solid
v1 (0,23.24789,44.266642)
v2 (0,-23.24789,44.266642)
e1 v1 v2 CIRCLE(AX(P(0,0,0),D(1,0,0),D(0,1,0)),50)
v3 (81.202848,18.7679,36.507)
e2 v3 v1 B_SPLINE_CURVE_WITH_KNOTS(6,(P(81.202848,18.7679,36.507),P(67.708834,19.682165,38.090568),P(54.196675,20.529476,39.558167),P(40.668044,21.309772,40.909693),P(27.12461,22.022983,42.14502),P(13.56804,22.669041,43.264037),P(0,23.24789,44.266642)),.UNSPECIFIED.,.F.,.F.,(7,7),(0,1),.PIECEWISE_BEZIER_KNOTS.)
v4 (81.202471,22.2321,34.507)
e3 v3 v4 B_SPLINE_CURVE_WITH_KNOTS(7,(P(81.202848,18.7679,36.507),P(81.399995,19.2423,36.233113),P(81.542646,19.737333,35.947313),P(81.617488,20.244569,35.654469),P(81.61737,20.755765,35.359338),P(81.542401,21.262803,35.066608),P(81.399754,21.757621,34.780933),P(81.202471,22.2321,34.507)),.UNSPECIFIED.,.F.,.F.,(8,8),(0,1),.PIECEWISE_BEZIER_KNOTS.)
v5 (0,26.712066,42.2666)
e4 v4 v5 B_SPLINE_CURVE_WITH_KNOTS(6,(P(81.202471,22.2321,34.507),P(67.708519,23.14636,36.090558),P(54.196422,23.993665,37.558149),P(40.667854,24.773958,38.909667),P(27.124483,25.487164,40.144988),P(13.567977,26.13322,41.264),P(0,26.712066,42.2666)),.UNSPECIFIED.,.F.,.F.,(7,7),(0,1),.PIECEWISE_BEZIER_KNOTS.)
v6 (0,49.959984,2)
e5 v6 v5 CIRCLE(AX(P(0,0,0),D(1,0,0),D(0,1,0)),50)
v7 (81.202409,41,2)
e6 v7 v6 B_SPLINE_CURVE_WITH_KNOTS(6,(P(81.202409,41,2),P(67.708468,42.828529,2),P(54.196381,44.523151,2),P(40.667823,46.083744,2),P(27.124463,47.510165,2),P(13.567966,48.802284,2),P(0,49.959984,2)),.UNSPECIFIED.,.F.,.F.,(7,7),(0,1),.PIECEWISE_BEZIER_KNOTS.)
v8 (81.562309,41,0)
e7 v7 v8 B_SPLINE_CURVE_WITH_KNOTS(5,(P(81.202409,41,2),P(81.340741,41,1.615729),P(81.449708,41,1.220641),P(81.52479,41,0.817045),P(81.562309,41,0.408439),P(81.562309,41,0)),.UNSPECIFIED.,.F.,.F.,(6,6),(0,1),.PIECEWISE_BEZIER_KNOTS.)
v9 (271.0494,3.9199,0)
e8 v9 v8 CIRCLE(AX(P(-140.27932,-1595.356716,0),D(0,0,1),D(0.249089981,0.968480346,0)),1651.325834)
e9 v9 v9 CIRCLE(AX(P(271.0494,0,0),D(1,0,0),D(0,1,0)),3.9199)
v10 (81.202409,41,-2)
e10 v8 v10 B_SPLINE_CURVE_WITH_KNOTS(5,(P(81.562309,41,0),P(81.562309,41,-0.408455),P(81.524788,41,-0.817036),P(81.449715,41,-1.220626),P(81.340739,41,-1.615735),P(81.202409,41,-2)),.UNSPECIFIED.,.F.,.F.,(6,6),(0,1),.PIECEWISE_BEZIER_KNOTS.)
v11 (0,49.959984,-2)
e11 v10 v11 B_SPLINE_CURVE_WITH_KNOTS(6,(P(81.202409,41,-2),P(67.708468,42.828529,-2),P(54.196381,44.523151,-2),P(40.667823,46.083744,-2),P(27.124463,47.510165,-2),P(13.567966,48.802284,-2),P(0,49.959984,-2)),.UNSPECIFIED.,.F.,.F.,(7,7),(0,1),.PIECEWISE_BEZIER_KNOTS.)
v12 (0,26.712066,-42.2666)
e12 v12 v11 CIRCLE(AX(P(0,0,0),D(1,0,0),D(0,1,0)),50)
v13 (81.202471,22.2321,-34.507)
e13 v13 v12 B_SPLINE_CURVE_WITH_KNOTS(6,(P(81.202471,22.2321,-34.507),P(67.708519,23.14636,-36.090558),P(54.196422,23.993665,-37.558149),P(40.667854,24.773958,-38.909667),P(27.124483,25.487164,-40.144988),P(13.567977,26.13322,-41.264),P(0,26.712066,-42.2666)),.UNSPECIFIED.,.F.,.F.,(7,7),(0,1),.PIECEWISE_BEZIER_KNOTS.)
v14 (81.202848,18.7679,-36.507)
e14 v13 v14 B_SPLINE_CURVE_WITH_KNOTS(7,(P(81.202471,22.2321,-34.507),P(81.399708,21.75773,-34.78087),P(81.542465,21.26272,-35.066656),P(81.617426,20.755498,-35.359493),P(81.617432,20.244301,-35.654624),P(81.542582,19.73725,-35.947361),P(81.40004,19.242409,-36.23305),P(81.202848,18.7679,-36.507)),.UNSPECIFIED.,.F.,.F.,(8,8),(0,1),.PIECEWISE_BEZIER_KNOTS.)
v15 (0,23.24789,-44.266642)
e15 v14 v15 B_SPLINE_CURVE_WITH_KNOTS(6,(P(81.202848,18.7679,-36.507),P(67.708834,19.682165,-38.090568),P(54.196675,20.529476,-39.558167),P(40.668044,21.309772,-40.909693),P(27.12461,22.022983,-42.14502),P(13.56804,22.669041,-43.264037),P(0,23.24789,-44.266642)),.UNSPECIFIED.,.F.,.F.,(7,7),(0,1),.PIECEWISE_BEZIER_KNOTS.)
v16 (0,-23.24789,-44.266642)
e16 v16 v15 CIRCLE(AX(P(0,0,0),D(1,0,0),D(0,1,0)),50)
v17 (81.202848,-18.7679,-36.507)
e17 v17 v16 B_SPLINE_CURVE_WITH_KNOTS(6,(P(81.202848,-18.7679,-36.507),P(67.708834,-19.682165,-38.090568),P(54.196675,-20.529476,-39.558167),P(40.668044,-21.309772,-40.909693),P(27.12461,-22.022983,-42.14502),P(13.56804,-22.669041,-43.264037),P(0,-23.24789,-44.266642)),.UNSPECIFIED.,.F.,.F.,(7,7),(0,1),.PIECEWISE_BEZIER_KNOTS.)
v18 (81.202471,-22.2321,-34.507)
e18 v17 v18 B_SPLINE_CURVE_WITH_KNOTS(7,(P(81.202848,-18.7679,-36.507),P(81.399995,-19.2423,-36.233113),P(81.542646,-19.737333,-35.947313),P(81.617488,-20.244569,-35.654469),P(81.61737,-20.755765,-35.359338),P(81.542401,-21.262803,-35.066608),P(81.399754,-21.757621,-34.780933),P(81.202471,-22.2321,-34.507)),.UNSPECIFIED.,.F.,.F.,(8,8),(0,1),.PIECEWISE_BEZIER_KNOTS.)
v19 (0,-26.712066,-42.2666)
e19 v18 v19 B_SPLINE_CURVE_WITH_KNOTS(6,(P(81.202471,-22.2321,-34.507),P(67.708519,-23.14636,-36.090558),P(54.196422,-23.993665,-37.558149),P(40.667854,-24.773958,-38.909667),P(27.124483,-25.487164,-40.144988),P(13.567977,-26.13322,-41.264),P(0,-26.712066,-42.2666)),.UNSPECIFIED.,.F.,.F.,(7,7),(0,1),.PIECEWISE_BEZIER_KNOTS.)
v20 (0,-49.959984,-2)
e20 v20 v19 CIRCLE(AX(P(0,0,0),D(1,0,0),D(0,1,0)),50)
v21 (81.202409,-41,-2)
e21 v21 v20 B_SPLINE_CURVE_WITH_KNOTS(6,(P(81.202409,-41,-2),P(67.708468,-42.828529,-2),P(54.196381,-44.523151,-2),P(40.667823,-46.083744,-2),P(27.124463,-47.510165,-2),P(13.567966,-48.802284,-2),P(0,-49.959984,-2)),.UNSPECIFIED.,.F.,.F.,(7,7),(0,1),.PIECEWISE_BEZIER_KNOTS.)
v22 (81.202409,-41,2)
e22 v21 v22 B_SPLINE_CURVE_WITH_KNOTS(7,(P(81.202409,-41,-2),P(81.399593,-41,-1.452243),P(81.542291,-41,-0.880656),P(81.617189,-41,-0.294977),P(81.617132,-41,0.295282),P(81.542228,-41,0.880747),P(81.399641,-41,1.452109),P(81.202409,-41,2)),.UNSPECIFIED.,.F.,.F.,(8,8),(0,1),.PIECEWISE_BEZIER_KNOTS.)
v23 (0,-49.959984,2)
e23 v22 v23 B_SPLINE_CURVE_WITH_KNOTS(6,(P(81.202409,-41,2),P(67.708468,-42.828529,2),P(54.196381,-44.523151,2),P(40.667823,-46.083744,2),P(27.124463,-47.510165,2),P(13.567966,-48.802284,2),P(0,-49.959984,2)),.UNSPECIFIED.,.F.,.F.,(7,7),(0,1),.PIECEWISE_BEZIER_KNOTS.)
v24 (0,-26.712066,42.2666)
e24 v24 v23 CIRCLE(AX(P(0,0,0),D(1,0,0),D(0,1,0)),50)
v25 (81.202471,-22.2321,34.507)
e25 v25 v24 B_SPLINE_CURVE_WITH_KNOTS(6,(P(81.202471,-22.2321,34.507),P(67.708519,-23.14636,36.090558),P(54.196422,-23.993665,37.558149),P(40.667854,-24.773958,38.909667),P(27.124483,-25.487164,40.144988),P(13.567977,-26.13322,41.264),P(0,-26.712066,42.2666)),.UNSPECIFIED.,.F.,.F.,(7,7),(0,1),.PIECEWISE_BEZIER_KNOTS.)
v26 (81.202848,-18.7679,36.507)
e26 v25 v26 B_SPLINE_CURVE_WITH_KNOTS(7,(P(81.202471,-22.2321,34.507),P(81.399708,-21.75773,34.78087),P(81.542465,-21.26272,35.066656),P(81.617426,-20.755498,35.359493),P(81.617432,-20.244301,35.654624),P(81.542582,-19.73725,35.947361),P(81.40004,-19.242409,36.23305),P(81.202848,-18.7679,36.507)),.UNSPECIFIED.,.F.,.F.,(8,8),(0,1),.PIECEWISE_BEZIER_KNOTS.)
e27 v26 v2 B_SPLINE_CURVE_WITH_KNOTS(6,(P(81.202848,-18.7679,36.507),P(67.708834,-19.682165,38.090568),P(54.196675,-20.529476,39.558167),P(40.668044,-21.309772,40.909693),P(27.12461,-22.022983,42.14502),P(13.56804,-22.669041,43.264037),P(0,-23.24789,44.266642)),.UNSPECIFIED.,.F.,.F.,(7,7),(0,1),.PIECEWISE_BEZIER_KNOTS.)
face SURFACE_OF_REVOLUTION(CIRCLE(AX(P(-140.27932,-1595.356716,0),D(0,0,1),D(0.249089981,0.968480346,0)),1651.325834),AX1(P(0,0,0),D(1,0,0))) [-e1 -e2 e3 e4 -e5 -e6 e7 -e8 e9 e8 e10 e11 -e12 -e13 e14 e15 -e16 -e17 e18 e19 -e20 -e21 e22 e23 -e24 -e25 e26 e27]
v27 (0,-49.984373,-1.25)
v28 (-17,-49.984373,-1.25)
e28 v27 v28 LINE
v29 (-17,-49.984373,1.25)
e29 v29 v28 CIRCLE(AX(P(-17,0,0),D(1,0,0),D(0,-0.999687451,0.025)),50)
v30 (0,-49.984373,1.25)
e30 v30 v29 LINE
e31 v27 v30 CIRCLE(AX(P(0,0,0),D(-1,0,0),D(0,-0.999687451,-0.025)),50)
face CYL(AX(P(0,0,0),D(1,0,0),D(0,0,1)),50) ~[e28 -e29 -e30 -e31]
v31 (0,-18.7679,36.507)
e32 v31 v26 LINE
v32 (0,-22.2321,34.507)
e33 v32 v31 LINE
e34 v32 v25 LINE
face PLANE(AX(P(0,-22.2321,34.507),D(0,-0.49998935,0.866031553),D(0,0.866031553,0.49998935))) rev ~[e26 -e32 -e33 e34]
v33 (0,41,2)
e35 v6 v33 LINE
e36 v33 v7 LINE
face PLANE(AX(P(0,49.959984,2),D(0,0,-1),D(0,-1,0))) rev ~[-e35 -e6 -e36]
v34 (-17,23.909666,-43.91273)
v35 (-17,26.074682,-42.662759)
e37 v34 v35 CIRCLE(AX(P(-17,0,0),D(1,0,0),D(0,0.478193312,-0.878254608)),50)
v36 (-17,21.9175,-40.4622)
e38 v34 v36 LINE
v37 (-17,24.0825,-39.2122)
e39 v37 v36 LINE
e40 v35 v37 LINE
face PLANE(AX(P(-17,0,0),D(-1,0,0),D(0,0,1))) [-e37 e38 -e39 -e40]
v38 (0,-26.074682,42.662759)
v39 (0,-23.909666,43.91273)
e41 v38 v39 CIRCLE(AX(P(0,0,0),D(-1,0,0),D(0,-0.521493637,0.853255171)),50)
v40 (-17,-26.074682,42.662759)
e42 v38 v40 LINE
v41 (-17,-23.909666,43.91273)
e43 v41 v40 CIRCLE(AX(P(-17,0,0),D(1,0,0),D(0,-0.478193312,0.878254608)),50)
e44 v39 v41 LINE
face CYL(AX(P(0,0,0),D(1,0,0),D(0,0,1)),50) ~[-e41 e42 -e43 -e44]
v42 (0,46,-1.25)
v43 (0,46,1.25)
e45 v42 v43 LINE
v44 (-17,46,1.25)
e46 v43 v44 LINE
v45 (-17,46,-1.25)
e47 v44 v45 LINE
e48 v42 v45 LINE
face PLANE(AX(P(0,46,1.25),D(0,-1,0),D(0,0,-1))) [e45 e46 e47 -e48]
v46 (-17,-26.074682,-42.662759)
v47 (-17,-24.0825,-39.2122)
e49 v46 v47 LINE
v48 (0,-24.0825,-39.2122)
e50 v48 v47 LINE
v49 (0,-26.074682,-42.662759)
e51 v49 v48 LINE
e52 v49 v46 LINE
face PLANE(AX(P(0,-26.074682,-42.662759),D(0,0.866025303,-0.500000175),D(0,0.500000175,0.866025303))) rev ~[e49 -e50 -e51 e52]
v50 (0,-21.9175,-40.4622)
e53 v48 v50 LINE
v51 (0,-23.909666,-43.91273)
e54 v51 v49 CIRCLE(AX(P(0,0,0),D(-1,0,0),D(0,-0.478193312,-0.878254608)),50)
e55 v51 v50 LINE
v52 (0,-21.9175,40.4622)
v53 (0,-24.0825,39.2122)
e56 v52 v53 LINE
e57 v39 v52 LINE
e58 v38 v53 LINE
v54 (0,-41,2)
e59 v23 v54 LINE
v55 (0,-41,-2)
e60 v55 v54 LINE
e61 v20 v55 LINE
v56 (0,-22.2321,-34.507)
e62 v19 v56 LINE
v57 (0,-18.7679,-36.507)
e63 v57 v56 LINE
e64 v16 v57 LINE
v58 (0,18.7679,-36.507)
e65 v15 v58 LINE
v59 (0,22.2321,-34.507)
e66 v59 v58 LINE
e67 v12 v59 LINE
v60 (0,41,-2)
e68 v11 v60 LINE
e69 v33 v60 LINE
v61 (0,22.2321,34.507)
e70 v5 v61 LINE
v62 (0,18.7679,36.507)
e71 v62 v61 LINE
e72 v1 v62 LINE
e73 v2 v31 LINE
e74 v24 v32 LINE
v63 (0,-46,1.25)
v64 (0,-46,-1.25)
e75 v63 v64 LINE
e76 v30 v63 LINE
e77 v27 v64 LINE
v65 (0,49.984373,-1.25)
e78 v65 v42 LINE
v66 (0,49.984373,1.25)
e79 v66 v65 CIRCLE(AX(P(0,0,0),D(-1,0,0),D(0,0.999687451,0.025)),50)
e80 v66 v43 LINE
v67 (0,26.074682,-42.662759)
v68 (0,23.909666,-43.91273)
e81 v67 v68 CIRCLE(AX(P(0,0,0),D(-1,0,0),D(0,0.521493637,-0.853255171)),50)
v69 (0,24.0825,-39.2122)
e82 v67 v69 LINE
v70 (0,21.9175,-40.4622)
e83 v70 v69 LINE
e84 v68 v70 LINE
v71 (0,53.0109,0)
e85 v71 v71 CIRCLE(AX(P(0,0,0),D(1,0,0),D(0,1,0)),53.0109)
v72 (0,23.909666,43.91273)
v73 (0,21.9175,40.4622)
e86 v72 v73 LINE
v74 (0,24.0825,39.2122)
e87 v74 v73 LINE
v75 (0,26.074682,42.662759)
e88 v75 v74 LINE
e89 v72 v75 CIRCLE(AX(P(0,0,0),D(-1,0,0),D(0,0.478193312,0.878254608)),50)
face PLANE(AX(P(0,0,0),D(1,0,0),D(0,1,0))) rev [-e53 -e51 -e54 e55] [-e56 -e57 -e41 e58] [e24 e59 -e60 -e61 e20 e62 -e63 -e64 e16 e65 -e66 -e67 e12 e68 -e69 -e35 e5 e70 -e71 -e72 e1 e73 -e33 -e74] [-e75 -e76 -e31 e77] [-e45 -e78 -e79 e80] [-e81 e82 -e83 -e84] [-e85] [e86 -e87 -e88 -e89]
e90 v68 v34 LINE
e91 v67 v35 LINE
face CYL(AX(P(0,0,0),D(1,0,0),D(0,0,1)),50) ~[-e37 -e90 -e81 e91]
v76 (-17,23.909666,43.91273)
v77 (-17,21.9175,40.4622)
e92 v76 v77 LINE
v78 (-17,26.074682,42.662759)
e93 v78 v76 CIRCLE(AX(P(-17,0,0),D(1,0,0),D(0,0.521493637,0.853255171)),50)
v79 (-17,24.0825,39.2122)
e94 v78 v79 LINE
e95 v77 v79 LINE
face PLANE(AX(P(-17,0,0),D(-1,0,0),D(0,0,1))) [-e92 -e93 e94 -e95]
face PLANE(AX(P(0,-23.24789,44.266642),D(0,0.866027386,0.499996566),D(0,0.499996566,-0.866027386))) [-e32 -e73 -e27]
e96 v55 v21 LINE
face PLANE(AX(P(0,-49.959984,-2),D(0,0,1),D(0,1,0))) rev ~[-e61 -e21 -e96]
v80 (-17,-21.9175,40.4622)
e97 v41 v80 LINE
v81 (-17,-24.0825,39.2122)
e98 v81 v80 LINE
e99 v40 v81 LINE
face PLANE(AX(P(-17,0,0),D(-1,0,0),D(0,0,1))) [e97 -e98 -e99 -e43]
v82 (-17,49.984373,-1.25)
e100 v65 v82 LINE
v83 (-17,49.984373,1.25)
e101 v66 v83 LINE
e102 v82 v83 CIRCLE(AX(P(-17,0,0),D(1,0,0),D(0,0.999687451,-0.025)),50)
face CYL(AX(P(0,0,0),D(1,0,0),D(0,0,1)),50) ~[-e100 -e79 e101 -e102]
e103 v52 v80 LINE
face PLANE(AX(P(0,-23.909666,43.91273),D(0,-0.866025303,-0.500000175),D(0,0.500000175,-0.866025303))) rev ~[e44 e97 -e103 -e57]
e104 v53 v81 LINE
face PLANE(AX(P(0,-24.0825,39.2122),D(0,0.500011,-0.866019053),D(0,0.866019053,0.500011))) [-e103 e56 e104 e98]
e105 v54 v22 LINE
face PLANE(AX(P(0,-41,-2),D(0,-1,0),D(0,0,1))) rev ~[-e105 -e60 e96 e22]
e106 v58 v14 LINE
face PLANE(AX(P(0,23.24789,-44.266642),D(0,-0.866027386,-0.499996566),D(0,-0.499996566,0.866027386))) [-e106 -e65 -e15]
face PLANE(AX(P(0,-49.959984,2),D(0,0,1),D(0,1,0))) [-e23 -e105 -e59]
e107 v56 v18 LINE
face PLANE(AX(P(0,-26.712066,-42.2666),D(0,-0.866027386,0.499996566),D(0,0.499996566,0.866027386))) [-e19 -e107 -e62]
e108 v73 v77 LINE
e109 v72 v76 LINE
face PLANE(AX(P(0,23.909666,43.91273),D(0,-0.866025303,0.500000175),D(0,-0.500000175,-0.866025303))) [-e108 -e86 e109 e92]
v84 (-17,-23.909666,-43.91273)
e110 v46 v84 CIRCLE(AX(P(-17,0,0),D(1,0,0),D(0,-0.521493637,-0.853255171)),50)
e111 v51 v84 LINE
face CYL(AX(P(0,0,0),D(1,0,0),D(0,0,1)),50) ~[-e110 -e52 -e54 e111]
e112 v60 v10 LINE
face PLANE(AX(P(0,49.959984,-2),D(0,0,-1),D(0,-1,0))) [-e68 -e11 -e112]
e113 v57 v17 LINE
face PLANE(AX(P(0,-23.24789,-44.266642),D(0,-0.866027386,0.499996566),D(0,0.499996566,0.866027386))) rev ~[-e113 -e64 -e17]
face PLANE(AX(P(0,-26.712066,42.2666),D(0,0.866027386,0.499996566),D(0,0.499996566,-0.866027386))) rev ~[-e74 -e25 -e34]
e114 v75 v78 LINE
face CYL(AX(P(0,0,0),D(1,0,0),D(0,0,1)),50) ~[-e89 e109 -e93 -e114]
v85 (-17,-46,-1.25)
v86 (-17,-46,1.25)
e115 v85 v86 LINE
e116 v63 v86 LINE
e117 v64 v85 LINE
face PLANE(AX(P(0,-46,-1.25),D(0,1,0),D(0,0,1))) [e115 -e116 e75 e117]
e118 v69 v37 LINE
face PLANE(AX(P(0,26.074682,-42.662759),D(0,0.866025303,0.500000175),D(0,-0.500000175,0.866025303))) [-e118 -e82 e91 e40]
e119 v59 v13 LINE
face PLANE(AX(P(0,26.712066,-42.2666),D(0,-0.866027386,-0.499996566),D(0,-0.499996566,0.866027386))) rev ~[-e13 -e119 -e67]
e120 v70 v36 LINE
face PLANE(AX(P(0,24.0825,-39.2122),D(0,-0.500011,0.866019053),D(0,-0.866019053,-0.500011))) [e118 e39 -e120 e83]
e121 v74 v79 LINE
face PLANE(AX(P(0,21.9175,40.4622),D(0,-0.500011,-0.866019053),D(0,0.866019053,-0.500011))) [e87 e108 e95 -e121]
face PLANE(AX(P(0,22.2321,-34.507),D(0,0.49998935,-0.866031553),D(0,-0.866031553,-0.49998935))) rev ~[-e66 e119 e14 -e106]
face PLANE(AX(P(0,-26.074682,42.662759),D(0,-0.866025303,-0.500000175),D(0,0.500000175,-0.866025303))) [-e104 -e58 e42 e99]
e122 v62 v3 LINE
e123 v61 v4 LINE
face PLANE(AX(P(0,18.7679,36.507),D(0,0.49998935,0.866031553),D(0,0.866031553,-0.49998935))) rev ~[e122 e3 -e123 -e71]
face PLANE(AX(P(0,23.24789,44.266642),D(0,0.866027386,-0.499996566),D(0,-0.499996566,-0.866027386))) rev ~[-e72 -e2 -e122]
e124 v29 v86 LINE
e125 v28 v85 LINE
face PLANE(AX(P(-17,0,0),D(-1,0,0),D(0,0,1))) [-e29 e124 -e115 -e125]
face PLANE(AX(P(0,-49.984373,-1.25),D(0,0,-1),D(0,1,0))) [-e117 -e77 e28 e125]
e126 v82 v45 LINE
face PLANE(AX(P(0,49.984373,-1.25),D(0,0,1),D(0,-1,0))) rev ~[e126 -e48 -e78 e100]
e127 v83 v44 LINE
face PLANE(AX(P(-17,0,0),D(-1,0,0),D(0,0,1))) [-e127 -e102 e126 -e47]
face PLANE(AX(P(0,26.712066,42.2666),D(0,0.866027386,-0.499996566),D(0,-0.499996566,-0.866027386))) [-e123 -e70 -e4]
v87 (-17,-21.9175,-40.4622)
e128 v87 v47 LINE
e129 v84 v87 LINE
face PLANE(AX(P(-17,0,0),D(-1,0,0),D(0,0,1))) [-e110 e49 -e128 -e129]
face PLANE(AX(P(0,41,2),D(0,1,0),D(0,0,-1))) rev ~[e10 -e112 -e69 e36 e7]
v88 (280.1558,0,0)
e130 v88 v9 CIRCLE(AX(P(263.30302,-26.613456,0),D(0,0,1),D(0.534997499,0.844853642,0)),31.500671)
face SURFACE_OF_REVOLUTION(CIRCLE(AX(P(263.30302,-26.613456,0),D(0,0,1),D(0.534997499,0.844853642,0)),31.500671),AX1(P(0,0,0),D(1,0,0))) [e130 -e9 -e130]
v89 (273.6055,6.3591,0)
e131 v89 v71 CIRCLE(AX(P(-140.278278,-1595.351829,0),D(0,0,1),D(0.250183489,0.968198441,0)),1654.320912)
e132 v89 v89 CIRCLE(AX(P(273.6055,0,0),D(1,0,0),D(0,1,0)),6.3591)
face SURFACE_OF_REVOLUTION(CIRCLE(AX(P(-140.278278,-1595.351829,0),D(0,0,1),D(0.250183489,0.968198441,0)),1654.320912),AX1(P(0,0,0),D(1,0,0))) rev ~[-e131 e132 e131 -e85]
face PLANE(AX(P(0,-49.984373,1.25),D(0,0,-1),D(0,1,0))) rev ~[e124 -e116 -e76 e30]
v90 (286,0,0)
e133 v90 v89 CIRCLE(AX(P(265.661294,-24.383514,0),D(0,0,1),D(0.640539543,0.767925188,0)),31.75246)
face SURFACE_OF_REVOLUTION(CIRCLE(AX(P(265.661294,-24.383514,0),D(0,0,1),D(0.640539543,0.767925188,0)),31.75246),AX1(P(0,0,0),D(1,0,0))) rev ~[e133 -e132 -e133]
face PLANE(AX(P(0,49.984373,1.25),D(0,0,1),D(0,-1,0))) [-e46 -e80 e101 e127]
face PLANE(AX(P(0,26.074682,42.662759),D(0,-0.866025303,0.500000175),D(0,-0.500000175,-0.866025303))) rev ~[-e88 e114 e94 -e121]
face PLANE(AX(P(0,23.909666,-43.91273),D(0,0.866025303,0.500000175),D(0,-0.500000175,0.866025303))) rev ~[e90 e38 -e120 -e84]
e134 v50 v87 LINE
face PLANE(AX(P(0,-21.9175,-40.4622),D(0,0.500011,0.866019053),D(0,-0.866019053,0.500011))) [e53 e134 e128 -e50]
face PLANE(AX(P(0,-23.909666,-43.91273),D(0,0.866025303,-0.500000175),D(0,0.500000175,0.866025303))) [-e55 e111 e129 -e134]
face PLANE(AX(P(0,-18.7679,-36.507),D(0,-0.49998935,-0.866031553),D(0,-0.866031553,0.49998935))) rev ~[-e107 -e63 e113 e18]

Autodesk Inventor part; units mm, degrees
ref_plane "YZ Plane" through (0, 0, 0) normal (1, 0, 0) x (0, 1, 0)
ref_plane "XZ Plane" through (0, 0, 0) normal (0, 1, 0) x (-1, 0, 0)
ref_plane "XY Plane" through (0, 0, 0) normal (0, 0, 1) x (1, 0, 0)
sketch "Sketch1" plane through (0, 0, 0) normal (0, 0, 1) x (1, 0, 0)
  line L0 (0, 0) -> (286, 0)
  arc A0 (271.0494, 3.9199) -> (0, 50) centre (-140.2784, -1595.3524) ccw
  arc A1 (273.6055, 6.3591) -> (0, 53.0109) centre (-140.2784, -1595.3524) ccw
  arc A2 (286, 0) -> (273.6055, 6.3591) centre (265.6617, -24.3829) ccw
  arc A3 (280.1558, 0) -> (271.0494, 3.9199) centre (263.3021, -26.6152) ccw
  line L1 (-3, 0) -> (0, 0)
  line L2 (0, 50) -> (0, 53.0109)
  dimension "d0" = 286
  dimension "d1" = 50
  dimension "d2" = 3
revolve "Revolution1" add sketch "Sketch1" angle 360 about axis through (0, 0, 0) along (1, 0, 0)
sketch "Sketch2" plane through (0, 0, 0) normal (-1, 0, 0) x (0, 0, 1)
  circle A0 centre (0, 0) radius 50 projected
  line L0 (0, 50) -> (2, 50)
  line L1 (2, 50) -> (2, 41)
  line L2 (2, 41) -> (0, 41)
  line L3 (0, 50) -> (-2, 50)
  line L4 (-2, 50) -> (-2, 41)
  line L5 (-2, 41) -> (0, 41)
  line L6 (-43.3013, 25) -> (-42.3013, 26.7321)
  line L7 (-42.3013, 26.7321) -> (-34.507, 22.2321)
  line L8 (-34.507, 22.2321) -> (-35.507, 20.5)
  line L9 (-43.3013, 25) -> (-44.3013, 23.2679)
  line L10 (-44.3013, 23.2679) -> (-36.507, 18.7679)
  line L11 (-36.507, 18.7679) -> (-35.507, 20.5)
  line L12 (-43.3013, -25) -> (-44.3013, -23.2679)
  line L13 (-44.3013, -23.2679) -> (-36.507, -18.7679)
  line L14 (-36.507, -18.7679) -> (-35.507, -20.5)
  line L15 (-43.3013, -25) -> (-42.3013, -26.7321)
  line L16 (-42.3013, -26.7321) -> (-34.507, -22.2321)
  line L17 (-34.507, -22.2321) -> (-35.507, -20.5)
  line L18 (0, -50) -> (-2, -50)
  line L19 (-2, -50) -> (-2, -41)
  line L20 (-2, -41) -> (0, -41)
  line L21 (0, -50) -> (2, -50)
  line L22 (2, -50) -> (2, -41)
  line L23 (2, -41) -> (0, -41)
  line L24 (43.3013, -25) -> (42.3013, -26.7321)
  line L25 (42.3013, -26.7321) -> (34.507, -22.2321)
  line L26 (34.507, -22.2321) -> (35.507, -20.5)
  line L27 (43.3013, -25) -> (44.3013, -23.2679)
  line L28 (44.3013, -23.2679) -> (36.507, -18.7679)
  line L29 (36.507, -18.7679) -> (35.507, -20.5)
  line L30 (43.3013, 25) -> (44.3013, 23.2679)
  line L31 (44.3013, 23.2679) -> (36.507, 18.7679)
  line L32 (36.507, 18.7679) -> (35.507, 20.5)
  line L33 (43.3013, 25) -> (42.3013, 26.7321)
  line L34 (42.3013, 26.7321) -> (34.507, 22.2321)
  line L35 (34.507, 22.2321) -> (35.507, 20.5)
  point P0 (-44.2666, -23.2479)
  point P1 (-42.2666, -26.712)
  point P2 (0, -41)
  point P3 (-2, -49.96)
  point P4 (2, -49.96)
  point P5 (42.2666, -26.712)
  point P6 (44.2666, -23.2479)
  point P7 (-42.2666, 26.712)
  point P8 (-44.2666, 23.2479)
  point P9 (44.2666, 23.2479)
  point P10 (42.2666, 26.712)
  point P11 (2, 49.96)
  point P12 (-2, 49.96)
  dimension "d4" = 2
  dimension "d5" = 9
  dimension "d6" = 2
  dimension "d9" = 360
extrude "Extrusion1" add sketch "Sketch2" against normal up to next contours L31 L32 L35 L34 A0 | A0 L25 L26 L29 L28 | L1 L2 L5 L4 A0 | A0 L19 L20 L23 L22 | L7 L8 L11 L10 A0 | A0 L13 L14 L17 L16
sketch "Sketch4" plane through (0, 0, 0) normal (-1, 0, 0) x (0, 0, 1)
  circle A0 centre (0, 0) radius 3.9199 projected
  circle A1 centre (0, 0) radius 50
  line L0 (0, 50) -> (1.25, 50)
  line L1 (1.25, 50) -> (1.25, 46)
  line L2 (1.25, 46) -> (0, 46)
  line L3 (0, 50) -> (-1.25, 50)
  line L4 (-1.25, 50) -> (-1.25, 46)
  line L5 (-1.25, 46) -> (0, 46)
  line L6 (-43.3013, 25) -> (-42.6763, 26.0825)
  line L7 (-42.6763, 26.0825) -> (-39.2122, 24.0825)
  line L8 (-39.2122, 24.0825) -> (-39.8372, 23)
  line L9 (-43.3013, 25) -> (-43.9263, 23.9175)
  line L10 (-43.9263, 23.9175) -> (-40.4622, 21.9175)
  line L11 (-40.4622, 21.9175) -> (-39.8372, 23)
  line L12 (-43.3013, -25) -> (-43.9263, -23.9175)
  line L13 (-43.9263, -23.9175) -> (-40.4622, -21.9175)
  line L14 (-40.4622, -21.9175) -> (-39.8372, -23)
  line L15 (-43.3013, -25) -> (-42.6763, -26.0825)
  line L16 (-42.6763, -26.0825) -> (-39.2122, -24.0825)
  line L17 (-39.2122, -24.0825) -> (-39.8372, -23)
  line L18 (0, -50) -> (-1.25, -50)
  line L19 (-1.25, -50) -> (-1.25, -46)
  line L20 (-1.25, -46) -> (0, -46)
  line L21 (0, -50) -> (1.25, -50)
  line L22 (1.25, -50) -> (1.25, -46)
  line L23 (1.25, -46) -> (0, -46)
  line L24 (43.3013, -25) -> (42.6763, -26.0825)
  line L25 (42.6763, -26.0825) -> (39.2122, -24.0825)
  line L26 (39.2122, -24.0825) -> (39.8372, -23)
  line L27 (43.3013, -25) -> (43.9263, -23.9175)
  line L28 (43.9263, -23.9175) -> (40.4622, -21.9175)
  line L29 (40.4622, -21.9175) -> (39.8372, -23)
  line L30 (43.3013, 25) -> (43.9263, 23.9175)
  line L31 (43.9263, 23.9175) -> (40.4622, 21.9175)
  line L32 (40.4622, 21.9175) -> (39.8372, 23)
  line L33 (43.3013, 25) -> (42.6763, 26.0825)
  line L34 (42.6763, 26.0825) -> (39.2122, 24.0825)
  line L35 (39.2122, 24.0825) -> (39.8372, 23)
  point P0 (-42.6627, 26.0747)
  point P1 (-43.9127, 23.9097)
  point P2 (-43.9127, -23.9097)
  point P3 (-42.6627, -26.0747)
  point P4 (0, -46)
  point P5 (-1.25, -49.9844)
  point P6 (1.25, -49.9844)
  point P7 (42.6627, -26.0747)
  point P8 (43.9127, -23.9097)
  point P9 (43.9127, 23.9097)
  point P10 (42.6627, 26.0747)
  point P11 (1.25, 49.9844)
  point P12 (-1.25, 49.9844)
  dimension "d29" = 1.25
  dimension "d30" = 4
  dimension "d31" = 1.25
  dimension "d34" = 360
extrude "Extrusion3" add sketch "Sketch4" along normal blind 17 contours L31 L32 L35 L34 A1 | A1 L25 L26 L29 L28 | L1 L2 L5 L4 A1 | A1 L19 L20 L23 L22 | L7 L8 L11 L10 A1 | A1 L13 L14 L17 L16
equation "\"BendRadius\" = Thickness"
equation "\"BendReliefWidth\" = Thickness"
equation "\"BendReliefDepth\" = 0.5 * Thickness"
equation "\"CornerReliefSize\" = 4 * Thickness"
equation "\"MinimumRemnant\" = 2 * Thickness"
equation "\"TransitionRadius\" = BendRadius"
equation "\"JacobiRadiusSize\" = BendRadius"
equation "\"GapSize\" = Thickness"
equation "\"Thickness\" = 0.5"
properties part number "Nosecone(finale)tip"
